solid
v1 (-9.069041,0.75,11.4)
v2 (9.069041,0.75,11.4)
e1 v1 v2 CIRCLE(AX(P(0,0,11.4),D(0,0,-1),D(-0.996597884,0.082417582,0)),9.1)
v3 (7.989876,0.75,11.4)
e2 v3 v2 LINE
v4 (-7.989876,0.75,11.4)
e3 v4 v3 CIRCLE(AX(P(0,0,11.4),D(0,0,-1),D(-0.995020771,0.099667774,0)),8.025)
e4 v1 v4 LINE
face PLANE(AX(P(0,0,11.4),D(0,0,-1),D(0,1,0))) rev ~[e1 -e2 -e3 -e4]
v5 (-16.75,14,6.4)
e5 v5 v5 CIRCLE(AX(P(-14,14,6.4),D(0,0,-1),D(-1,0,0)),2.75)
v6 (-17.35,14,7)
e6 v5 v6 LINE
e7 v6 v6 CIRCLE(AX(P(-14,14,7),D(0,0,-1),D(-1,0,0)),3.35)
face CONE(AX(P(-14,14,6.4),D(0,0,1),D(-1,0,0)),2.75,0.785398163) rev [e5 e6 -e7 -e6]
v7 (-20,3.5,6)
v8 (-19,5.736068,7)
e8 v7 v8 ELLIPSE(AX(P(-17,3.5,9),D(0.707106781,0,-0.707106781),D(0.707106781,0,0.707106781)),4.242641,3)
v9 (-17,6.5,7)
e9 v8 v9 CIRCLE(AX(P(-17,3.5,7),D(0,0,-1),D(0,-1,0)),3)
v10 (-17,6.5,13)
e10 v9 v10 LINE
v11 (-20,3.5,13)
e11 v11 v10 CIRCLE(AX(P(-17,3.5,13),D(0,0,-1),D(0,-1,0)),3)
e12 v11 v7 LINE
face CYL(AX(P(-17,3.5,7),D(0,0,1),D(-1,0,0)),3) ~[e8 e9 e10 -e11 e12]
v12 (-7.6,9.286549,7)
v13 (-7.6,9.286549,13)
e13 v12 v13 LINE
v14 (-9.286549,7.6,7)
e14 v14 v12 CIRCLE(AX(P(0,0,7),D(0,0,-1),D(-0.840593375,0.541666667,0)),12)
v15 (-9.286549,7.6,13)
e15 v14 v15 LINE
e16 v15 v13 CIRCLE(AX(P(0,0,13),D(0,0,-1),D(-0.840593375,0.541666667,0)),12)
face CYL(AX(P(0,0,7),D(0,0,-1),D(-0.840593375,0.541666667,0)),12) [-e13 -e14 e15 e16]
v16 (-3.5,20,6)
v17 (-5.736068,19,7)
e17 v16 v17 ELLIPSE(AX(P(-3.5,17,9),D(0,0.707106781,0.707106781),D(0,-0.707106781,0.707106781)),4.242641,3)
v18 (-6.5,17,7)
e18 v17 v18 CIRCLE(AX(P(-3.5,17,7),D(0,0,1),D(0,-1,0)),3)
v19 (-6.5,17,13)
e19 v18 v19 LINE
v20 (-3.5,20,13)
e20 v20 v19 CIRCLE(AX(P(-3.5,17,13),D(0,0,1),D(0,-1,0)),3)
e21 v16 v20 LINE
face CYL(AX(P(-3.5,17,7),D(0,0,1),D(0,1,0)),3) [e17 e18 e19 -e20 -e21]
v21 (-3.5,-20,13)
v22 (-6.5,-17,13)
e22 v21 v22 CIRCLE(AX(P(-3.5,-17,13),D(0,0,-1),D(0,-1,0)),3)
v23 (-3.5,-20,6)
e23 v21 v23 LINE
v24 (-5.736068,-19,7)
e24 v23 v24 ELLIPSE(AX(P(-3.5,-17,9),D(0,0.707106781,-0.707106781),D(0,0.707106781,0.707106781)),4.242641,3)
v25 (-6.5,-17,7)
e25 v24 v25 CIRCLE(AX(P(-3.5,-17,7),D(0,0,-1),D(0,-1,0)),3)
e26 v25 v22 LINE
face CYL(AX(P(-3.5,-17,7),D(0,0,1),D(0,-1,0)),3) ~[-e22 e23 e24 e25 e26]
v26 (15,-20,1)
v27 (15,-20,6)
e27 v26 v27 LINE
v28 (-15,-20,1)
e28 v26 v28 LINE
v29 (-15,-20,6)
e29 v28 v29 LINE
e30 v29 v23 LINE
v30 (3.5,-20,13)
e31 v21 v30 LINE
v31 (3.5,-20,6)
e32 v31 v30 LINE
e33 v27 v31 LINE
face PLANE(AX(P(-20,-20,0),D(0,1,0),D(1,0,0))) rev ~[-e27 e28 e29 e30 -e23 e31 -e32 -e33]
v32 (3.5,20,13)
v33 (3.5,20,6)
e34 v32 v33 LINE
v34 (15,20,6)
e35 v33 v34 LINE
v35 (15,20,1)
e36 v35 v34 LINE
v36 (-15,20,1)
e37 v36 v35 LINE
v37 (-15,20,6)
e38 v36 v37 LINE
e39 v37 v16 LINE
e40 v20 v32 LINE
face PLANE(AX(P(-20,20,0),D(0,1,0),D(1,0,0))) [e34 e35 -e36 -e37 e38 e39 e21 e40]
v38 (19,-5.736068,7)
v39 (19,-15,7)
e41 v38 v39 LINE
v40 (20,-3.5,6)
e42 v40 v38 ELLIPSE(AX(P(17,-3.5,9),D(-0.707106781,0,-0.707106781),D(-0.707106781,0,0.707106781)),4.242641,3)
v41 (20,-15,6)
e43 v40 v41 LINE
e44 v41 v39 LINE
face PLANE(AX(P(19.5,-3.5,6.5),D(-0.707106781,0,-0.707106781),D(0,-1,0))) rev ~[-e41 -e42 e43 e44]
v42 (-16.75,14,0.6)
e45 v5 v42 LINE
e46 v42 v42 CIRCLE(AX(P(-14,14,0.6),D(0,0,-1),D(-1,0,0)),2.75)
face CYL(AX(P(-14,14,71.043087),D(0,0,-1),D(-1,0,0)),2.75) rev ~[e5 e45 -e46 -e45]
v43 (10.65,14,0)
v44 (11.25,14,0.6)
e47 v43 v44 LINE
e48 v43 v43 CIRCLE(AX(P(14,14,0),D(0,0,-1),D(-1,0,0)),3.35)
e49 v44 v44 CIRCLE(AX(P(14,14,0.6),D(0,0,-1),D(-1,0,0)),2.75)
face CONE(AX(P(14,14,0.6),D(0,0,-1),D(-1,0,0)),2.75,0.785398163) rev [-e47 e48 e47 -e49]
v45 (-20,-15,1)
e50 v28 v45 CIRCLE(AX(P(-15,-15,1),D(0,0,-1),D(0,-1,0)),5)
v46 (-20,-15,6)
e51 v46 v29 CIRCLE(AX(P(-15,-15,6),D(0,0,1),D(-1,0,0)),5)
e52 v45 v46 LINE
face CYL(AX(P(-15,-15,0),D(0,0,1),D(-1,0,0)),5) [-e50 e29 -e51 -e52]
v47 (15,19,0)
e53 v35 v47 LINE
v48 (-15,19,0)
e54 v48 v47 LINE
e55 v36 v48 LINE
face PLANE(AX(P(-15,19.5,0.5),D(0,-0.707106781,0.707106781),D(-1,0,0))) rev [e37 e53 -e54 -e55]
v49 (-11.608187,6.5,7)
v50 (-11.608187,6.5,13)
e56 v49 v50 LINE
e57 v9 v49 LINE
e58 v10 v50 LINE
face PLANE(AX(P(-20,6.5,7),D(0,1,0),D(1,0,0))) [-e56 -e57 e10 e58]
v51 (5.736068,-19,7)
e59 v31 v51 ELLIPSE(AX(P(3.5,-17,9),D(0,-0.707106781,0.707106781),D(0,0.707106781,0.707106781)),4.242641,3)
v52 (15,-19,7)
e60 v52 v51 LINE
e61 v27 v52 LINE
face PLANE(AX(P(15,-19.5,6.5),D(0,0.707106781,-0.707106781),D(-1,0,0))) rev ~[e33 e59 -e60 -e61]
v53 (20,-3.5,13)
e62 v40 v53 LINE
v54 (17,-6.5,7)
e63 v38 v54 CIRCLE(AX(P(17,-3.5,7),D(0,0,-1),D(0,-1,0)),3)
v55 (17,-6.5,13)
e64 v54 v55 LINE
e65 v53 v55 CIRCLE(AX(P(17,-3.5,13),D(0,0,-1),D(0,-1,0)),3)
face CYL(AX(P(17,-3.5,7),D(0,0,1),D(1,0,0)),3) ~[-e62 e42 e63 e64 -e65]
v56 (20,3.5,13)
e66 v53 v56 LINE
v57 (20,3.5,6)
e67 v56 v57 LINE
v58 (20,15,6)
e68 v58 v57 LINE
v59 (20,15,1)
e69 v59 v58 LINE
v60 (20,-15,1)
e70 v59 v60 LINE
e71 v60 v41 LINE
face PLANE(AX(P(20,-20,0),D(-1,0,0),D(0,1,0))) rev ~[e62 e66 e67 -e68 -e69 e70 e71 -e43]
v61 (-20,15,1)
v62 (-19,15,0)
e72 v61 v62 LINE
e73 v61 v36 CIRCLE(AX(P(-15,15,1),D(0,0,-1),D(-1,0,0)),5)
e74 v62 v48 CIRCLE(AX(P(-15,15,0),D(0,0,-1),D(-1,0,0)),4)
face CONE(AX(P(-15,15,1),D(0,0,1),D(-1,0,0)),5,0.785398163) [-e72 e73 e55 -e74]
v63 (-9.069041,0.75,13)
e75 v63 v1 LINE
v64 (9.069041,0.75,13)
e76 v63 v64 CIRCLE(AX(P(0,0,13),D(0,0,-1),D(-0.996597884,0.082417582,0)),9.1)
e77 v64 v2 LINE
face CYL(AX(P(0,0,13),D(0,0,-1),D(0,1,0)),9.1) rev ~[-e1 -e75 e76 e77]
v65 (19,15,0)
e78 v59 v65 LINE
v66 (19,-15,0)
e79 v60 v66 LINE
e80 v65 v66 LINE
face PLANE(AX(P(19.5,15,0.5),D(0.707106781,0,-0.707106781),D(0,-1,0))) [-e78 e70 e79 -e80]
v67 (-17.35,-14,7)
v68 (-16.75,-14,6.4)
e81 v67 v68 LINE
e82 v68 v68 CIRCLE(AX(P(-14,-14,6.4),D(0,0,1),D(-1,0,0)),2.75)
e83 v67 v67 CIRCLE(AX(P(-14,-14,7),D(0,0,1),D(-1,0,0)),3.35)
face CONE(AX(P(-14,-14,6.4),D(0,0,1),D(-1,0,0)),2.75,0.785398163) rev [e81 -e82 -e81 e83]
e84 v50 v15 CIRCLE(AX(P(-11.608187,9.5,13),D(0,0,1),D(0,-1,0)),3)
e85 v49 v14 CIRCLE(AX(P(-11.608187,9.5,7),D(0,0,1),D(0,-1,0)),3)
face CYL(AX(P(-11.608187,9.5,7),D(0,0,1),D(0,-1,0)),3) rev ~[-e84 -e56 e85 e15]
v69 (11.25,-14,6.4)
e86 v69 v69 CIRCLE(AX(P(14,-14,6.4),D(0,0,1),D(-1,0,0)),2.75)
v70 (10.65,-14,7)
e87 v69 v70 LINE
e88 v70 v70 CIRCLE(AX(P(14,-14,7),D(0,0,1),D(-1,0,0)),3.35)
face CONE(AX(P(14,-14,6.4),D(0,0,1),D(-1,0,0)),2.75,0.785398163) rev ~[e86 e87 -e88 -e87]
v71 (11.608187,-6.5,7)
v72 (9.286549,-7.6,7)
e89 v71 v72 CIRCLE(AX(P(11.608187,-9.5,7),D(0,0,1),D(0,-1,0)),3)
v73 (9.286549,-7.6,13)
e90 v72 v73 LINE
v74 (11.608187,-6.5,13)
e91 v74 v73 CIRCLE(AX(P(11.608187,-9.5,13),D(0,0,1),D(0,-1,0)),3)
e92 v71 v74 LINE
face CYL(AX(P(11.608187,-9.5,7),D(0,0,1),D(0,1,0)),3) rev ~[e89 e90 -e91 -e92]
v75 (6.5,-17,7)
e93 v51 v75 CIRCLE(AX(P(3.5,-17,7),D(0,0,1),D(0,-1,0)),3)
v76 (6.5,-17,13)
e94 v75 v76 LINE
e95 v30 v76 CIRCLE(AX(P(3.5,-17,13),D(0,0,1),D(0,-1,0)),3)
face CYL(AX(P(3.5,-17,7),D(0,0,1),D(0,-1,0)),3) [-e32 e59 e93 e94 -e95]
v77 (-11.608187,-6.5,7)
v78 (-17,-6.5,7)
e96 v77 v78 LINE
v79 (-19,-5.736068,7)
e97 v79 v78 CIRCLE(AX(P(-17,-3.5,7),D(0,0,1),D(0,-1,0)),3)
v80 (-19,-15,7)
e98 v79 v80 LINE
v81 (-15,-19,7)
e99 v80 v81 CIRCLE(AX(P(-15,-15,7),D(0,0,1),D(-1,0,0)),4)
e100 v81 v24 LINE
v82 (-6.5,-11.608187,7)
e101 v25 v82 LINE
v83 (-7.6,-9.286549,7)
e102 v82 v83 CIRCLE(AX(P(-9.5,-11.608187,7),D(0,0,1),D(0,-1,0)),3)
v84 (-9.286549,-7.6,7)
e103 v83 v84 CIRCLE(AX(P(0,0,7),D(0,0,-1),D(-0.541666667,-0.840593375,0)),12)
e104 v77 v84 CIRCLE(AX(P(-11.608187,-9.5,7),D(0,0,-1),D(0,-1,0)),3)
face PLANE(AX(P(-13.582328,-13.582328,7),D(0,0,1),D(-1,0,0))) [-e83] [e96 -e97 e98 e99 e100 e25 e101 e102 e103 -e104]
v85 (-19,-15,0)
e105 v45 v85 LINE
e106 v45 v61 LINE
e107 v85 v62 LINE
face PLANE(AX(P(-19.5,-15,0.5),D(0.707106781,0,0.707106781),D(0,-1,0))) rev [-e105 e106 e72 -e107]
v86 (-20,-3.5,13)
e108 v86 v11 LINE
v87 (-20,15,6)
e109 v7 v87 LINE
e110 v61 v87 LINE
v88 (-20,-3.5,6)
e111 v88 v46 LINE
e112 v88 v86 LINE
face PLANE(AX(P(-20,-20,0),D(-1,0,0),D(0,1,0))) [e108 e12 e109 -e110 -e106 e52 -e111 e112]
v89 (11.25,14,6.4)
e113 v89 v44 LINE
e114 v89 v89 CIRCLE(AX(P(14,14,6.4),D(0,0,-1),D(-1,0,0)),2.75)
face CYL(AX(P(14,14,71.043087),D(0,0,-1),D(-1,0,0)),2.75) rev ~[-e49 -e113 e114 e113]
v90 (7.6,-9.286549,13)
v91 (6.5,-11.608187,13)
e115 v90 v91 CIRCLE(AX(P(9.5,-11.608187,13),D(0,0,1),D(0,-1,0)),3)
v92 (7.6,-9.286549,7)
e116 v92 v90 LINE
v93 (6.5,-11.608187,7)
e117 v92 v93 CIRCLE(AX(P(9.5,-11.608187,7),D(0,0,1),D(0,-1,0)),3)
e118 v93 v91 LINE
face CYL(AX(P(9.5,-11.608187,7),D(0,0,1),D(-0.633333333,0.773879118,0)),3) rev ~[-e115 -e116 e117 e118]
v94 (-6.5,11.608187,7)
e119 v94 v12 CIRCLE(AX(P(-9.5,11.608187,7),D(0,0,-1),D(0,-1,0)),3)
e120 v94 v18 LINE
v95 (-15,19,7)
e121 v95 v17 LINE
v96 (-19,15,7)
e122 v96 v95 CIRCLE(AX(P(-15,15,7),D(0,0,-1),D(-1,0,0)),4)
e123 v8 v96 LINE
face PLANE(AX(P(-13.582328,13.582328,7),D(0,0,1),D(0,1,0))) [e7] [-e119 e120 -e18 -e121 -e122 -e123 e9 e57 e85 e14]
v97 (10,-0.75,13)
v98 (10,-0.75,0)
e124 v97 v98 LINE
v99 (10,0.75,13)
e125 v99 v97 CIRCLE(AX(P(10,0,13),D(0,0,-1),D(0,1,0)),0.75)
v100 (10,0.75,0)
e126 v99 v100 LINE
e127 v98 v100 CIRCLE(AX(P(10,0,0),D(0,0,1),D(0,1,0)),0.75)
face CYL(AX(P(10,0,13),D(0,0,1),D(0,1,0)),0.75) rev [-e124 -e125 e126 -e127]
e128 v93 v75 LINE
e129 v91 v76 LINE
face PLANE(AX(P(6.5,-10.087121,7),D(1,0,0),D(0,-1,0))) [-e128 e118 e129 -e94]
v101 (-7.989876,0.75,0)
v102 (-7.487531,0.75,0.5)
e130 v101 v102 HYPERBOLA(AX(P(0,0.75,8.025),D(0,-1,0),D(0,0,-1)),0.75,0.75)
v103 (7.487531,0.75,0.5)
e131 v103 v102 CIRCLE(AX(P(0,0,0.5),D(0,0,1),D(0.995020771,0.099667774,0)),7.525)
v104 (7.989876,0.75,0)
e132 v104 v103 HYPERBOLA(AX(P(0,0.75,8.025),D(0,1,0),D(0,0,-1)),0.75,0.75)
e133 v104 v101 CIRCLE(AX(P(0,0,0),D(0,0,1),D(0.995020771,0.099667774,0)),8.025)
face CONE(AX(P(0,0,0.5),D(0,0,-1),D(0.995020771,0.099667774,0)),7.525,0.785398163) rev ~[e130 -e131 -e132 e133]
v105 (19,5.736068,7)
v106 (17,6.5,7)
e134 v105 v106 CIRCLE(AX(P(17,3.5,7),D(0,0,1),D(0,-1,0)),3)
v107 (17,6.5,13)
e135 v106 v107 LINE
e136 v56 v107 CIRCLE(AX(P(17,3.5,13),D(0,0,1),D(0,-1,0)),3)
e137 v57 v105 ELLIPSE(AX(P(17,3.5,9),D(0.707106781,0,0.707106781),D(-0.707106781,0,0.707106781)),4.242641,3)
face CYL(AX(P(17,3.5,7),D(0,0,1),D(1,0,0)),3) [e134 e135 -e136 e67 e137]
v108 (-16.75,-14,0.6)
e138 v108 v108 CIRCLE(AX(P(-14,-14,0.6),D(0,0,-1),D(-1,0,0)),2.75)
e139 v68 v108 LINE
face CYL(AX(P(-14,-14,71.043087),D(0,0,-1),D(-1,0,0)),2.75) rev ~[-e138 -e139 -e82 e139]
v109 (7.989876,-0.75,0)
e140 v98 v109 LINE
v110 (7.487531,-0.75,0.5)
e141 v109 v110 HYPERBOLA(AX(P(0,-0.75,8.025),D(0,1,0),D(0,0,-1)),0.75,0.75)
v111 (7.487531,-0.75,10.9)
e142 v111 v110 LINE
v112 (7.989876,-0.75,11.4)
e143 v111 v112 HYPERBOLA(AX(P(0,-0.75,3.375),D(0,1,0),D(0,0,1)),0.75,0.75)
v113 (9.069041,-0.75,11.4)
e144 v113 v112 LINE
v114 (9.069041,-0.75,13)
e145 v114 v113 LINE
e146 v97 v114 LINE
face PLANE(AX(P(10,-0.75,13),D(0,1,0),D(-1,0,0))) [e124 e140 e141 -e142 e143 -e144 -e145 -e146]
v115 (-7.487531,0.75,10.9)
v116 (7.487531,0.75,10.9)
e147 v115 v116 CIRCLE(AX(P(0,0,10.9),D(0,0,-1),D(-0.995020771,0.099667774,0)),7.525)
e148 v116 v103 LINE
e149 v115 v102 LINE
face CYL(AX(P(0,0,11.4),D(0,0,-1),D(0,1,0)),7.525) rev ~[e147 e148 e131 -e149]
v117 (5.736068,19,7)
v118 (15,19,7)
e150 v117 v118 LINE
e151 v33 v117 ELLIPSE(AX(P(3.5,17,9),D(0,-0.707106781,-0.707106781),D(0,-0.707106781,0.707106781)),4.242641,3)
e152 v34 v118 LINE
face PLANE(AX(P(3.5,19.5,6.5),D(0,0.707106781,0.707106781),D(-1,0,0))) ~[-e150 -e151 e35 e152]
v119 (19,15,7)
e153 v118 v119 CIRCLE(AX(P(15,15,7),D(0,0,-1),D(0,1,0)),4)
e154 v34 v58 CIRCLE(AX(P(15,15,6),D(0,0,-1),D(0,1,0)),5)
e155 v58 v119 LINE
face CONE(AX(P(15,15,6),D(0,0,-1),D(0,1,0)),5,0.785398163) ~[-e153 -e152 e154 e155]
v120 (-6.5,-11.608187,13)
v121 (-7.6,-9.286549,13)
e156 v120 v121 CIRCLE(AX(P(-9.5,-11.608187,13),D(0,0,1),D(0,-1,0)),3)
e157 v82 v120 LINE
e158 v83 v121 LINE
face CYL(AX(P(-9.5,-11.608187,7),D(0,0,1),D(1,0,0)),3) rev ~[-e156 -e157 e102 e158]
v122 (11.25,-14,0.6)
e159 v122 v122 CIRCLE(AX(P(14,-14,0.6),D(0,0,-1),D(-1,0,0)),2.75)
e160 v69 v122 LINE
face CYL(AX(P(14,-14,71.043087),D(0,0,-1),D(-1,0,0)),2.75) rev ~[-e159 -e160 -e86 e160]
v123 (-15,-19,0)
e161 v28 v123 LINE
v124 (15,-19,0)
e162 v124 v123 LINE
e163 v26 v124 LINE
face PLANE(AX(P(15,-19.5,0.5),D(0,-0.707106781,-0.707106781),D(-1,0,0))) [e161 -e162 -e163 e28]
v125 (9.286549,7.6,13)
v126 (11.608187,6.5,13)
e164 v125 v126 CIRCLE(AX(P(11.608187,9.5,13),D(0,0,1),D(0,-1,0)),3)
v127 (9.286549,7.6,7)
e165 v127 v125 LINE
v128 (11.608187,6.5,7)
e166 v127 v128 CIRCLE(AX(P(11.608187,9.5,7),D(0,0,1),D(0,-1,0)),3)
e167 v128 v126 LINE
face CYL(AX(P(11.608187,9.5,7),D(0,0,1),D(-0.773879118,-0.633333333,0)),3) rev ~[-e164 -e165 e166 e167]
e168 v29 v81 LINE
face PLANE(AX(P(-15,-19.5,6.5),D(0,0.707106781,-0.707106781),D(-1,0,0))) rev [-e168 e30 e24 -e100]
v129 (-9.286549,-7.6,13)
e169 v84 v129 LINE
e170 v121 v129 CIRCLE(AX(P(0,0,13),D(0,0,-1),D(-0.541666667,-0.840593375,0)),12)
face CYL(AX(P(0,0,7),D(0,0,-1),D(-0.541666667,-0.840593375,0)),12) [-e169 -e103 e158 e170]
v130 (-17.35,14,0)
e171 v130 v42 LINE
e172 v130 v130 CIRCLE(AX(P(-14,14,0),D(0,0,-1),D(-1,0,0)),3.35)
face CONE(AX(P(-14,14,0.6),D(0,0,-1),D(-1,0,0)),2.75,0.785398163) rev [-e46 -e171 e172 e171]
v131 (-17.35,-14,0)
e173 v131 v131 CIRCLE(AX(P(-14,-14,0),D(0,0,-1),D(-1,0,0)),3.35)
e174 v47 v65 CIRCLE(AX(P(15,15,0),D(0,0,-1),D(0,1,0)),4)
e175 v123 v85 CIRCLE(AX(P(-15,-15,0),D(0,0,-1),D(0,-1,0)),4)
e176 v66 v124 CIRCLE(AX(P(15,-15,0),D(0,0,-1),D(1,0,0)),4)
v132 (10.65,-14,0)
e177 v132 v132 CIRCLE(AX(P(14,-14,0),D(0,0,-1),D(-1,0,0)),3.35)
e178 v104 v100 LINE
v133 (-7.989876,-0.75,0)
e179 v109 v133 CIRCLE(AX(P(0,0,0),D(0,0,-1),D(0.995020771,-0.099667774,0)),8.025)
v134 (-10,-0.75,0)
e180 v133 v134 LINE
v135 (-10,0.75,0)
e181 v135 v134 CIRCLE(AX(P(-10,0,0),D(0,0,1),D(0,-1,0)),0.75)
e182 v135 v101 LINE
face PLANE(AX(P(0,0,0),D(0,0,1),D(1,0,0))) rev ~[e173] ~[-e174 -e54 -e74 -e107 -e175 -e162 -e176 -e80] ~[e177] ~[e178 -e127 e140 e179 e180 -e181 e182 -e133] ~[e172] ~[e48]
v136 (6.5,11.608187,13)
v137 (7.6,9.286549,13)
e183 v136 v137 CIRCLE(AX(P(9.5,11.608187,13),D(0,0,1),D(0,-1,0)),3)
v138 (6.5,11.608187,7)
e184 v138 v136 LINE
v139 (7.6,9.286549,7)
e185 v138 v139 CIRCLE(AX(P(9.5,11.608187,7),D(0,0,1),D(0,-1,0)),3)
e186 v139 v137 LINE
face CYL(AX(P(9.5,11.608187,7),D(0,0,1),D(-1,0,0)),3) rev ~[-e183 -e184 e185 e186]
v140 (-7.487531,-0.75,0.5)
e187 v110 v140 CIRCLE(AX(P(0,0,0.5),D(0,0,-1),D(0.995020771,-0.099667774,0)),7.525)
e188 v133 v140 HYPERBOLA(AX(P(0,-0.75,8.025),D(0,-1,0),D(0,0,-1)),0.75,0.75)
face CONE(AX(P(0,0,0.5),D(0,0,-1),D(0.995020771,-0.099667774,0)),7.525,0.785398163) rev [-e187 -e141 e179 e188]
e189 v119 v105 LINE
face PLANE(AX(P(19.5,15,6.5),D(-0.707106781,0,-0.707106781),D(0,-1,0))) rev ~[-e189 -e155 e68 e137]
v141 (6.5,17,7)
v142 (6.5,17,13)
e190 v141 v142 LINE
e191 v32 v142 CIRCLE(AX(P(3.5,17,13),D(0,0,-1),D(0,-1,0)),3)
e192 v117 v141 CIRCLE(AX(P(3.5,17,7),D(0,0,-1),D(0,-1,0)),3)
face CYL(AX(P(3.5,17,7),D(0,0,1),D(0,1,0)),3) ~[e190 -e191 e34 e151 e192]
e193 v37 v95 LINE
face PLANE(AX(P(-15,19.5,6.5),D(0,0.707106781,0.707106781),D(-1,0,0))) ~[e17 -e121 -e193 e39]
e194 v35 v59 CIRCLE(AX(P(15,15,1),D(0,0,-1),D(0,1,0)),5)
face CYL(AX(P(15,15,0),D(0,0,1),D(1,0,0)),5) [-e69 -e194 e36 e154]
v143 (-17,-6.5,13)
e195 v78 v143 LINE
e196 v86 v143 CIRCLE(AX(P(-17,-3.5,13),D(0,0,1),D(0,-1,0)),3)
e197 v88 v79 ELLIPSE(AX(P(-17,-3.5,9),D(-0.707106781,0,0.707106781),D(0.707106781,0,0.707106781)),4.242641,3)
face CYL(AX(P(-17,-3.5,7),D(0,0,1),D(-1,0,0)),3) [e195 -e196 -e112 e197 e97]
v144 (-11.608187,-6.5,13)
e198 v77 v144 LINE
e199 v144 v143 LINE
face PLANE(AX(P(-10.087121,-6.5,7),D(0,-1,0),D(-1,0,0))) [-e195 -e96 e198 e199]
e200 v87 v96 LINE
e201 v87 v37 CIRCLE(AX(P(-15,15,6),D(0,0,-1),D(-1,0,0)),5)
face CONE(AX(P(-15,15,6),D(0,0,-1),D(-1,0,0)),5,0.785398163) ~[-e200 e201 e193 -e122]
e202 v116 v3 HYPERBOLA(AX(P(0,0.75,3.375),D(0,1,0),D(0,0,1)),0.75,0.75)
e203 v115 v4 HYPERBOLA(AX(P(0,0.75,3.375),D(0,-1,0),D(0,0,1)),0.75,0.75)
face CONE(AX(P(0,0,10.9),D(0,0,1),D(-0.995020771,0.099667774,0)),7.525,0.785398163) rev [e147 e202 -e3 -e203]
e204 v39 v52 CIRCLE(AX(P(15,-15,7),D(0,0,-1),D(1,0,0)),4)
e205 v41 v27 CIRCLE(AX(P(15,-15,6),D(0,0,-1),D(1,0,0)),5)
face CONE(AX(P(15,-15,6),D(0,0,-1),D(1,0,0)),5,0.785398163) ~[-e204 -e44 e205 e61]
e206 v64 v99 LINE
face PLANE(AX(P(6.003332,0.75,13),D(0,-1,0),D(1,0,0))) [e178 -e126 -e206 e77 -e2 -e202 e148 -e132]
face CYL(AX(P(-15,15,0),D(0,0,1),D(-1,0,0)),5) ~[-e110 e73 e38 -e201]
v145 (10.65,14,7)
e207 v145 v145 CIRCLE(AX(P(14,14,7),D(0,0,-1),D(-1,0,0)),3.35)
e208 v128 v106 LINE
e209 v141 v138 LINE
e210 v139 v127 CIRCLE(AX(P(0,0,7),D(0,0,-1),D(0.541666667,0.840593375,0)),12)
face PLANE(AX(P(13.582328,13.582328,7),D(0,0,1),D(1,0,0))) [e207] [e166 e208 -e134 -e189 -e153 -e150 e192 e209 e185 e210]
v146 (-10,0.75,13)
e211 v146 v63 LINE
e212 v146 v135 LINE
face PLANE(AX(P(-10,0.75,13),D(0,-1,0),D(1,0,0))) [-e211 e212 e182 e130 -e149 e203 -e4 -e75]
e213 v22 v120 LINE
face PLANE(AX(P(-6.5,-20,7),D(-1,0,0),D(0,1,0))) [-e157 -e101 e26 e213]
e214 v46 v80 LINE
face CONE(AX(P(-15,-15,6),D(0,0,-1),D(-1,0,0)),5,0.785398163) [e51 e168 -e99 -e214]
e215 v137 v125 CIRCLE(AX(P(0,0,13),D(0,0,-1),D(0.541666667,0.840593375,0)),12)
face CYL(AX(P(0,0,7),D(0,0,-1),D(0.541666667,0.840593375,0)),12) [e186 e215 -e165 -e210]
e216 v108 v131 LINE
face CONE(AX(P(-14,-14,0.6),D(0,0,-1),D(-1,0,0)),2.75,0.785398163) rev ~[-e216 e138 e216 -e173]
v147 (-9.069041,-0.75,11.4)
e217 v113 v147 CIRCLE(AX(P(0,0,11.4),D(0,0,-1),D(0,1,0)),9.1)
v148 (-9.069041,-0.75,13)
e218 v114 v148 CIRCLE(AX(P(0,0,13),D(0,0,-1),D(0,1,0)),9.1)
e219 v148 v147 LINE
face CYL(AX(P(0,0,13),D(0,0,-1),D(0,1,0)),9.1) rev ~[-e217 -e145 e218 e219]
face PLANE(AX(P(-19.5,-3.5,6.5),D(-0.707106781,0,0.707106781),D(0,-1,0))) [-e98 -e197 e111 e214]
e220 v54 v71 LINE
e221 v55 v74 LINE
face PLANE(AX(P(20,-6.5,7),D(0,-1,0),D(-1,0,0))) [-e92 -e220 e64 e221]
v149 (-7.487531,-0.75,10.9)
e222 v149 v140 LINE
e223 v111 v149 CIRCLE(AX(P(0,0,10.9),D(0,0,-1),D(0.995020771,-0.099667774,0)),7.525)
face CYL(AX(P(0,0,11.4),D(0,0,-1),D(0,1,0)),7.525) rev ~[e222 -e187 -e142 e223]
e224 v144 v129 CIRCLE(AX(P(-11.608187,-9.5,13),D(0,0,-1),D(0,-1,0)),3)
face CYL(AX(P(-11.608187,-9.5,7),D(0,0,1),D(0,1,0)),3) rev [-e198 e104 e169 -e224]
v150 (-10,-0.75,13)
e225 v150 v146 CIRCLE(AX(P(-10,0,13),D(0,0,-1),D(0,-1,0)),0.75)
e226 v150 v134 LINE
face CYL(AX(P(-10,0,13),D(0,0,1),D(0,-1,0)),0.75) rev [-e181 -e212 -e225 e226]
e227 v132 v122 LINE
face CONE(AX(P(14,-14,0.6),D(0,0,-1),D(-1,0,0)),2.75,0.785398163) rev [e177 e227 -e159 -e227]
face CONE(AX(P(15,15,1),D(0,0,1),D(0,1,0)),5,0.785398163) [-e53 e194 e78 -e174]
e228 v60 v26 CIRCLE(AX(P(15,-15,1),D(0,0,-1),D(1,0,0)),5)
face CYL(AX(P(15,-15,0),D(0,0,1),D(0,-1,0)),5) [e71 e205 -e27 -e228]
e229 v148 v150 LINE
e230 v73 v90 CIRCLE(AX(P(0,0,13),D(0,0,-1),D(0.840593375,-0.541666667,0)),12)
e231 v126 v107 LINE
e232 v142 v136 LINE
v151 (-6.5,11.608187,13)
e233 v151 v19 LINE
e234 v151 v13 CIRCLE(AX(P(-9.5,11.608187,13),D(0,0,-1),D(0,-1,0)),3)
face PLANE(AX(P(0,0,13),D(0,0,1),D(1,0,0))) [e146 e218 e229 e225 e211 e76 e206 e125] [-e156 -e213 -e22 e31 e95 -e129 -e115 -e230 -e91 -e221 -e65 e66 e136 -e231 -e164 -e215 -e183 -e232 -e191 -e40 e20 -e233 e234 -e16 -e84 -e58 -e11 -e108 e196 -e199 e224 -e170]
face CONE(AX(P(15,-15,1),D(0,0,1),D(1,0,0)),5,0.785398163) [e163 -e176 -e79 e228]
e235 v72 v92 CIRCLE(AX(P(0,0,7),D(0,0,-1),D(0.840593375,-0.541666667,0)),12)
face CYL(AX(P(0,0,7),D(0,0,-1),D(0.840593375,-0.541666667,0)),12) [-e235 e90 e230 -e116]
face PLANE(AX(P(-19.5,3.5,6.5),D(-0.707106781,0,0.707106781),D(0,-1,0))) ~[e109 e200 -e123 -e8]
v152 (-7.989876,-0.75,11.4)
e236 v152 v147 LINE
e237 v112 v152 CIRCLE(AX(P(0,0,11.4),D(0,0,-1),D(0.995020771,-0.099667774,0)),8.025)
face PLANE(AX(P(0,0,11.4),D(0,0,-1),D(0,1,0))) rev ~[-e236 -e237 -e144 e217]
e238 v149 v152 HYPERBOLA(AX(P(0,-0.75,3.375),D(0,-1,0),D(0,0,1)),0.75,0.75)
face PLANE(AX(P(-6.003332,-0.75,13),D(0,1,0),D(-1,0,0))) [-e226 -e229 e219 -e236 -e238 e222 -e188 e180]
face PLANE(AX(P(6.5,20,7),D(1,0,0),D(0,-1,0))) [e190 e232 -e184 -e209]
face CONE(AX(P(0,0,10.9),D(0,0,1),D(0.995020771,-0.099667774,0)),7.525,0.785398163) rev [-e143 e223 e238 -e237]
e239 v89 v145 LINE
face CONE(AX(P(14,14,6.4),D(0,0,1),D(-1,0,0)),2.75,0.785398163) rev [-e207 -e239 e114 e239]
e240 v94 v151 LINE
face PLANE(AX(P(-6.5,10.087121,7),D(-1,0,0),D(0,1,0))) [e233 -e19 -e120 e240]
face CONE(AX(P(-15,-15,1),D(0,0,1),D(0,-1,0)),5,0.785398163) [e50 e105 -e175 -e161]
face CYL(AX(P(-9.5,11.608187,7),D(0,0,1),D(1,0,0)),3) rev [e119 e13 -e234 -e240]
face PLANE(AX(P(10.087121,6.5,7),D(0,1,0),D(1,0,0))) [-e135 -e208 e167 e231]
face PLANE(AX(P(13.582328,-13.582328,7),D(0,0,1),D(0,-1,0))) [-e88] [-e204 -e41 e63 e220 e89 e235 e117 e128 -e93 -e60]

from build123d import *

# Parameters (mm, degrees)
SZKIC1_W                    = 40
SZKIC1_H                    = 40
DODANIE_WYCI_GNI_CIE1_DEPTH = 13
OTW_R_POD_RUB_M51_D         = 5.5
SZKIC4_R                    = 6.05
WYTNIJ_WYCI_GNI_CIE1_DEPTH  = 32.128764833
WYTNIJ_WYCI_GNI_CIE2_START  = -6
SZKIC5_R                    = 2.75
WYTNIJ_WYCI_GNI_CIE2_DEPTH  = 6
SZYK_KO_OWY1_COUNT          = 4
ZAOKR_GLENIE1_R             = 5
ZAOKR_GLENIE2_R             = 3
SFAZOWANIE2_SIZE            = 1
SFAZOWANIE3_SIZE            = 0.6
SFAZOWANIE4_SIZE            = 0.5


with BuildPart() as part:
    # Szkic1 → Dodanie-wyciągnięcie1 (new body)
    with BuildSketch(Plane.XY):
        Rectangle(SZKIC1_W, SZKIC1_H)
    extrude(amount=DODANIE_WYCI_GNI_CIE1_DEPTH)

    # Otwór pod śrubę M51 (through all)
    with Locations(Plane.XY.offset(13)):
        with Locations((-14, 14), (14, 14), (14, -14), (-14, -14)):
            Hole(OTW_R_POD_RUB_M51_D / 2)

    # Szkic4 → Wytnij-wyciągnięcie1 (cut, through all)
    with BuildSketch(Plane.XY.offset(13)):
        Circle(SZKIC4_R)
        with BuildLine():
            Line((-10, 0.75), (10, 0.75))
            ThreePointArc((10, 0.75), (10.75, 0), (10, -0.75))
            Line((10, -0.75), (-10, -0.75))
            ThreePointArc((-10, -0.75), (-10.75, 0), (-10, 0.75))
        make_face()
    extrude(amount=-WYTNIJ_WYCI_GNI_CIE1_DEPTH, mode=Mode.SUBTRACT)

    # Szkic5 → Wytnij-wyciągnięcie2 (cut)
    with BuildSketch(Plane.XY.offset(13).offset(WYTNIJ_WYCI_GNI_CIE2_START)):
        with BuildLine():
            Line((6.5, 20), (6.5, 10.087120501))
            ThreePointArc((6.5, 10.087120501), (8.485281374, 8.485281374), (10.087120501, 6.5))
            Line((10.087120501, 6.5), (20, 6.5))
            Line((20, 6.5), (20, 20))
            Line((20, 20), (6.5, 20))
        make_face()
        with Locations((14, 14)):
            Circle(SZKIC5_R, mode=Mode.SUBTRACT)
    wytnij_wyci_gni_cie2 = extrude(amount=WYTNIJ_WYCI_GNI_CIE2_DEPTH, mode=Mode.SUBTRACT)

    # Szyk kołowy1: Wytnij-wyciągnięcie2 ×4 about axis
    szyk_ko_owy1_axis = Axis((0, 0, 0), (0, 0, 1))
    for i in range(1, SZYK_KO_OWY1_COUNT):
        add(wytnij_wyci_gni_cie2.rotate(szyk_ko_owy1_axis, i * 360 / SZYK_KO_OWY1_COUNT), mode=Mode.SUBTRACT)

    # Zaokrąglenie1
    zaokr_glenie1_edges = [part.edges().sort_by_distance(p)[0] for p in [
        (20, 20, 3.5),
        (20, -20, 3.5),
        (-20, -20, 3.5),
        (-20, 20, 3.5),
    ]]
    fillet(zaokr_glenie1_edges, radius=ZAOKR_GLENIE1_R)

    # Zaokrąglenie2
    zaokr_glenie2_edges = [part.edges().sort_by_distance(p)[0] for p in [
        (-10.087120501, -6.5, 10),
        (-6.5, -10.087120501, 10),
        (-6.5, -20, 10),
        (-20, -6.5, 10),
        (-6.5, 10.087120501, 10),
        (-10.087120501, 6.5, 10),
        (-20, 6.5, 10),
        (-6.5, 20, 10),
        (10.087120501, 6.5, 10),
        (6.5, 10.087120501, 10),
        (6.5, 20, 10),
        (20, 6.5, 10),
        (6.5, -10.087120501, 10),
        (10.087120501, -6.5, 10),
        (20, -6.5, 10),
        (6.5, -20, 10),
    ]]
    fillet(zaokr_glenie2_edges, radius=ZAOKR_GLENIE2_R)

    # Sfazowanie2
    sfazowanie2_edges = [part.edges().sort_by_distance(p)[0] for p in [
        (-9.25, -20, 7),
        (-20, 9.25, 7),
        (-20, 0, 0),
        (-20, -9.25, 7),
        (20, 0, 0),
        (0, -20, 0),
        (0, 20, 0),
        (18.535533906, 18.535533906, 0),
        (18.535533906, -18.535533906, 0),
        (-18.535533906, -18.535533906, 0),
        (-18.535533906, 18.535533906, 0),
        (-9.25, 20, 7),
        (-18.535533906, 18.535533906, 7),
        (9.25, -20, 7),
        (-18.535533906, -18.535533906, 7),
        (20, 9.25, 7),
        (18.535533906, -18.535533906, 7),
        (18.535533906, 18.535533906, 7),
        (9.25, 20, 7),
        (20, -9.25, 7),
    ]]
    chamfer(sfazowanie2_edges, length=SFAZOWANIE2_SIZE)

    # Sfazowanie3
    sfazowanie3_edges = [part.edges().sort_by_distance(p)[0] for p in [
        (-11.25, -14, 7),
        (-11.25, 14, 7),
        (-11.25, -14, 0),
        (16.75, -14, 0),
        (16.75, 14, 0),
        (-11.25, 14, 0),
        (16.75, 14, 7),
        (16.75, -14, 7),
    ]]
    chamfer(sfazowanie3_edges, length=SFAZOWANIE3_SIZE)

    # Szkic6 → Wycięcie-obrót1 (revolve, cut)
    with BuildSketch(Plane(origin=(0, 0, 0), x_dir=(0, 0, -1), z_dir=(1, 0, 0))):
        Polygon((-13, 9.1), (-11.4, 9.1), (-11.4, 7.525), (0, 7.525), (0, 0), (-13, 0), align=None)
    revolve(axis=Axis((0, 0, 0), (0, 0, -1)), mode=Mode.SUBTRACT)

    # Sfazowanie4
    sfazowanie4_edges = [part.edges().sort_by_distance(p)[0] for p in [
        (0, -7.525, 11.4),
        (0, -7.525, 0),
        (0, 7.525, 11.4),
        (0, 7.525, 0),
    ]]
    chamfer(sfazowanie4_edges, length=SFAZOWANIE4_SIZE)


solid = part.part
